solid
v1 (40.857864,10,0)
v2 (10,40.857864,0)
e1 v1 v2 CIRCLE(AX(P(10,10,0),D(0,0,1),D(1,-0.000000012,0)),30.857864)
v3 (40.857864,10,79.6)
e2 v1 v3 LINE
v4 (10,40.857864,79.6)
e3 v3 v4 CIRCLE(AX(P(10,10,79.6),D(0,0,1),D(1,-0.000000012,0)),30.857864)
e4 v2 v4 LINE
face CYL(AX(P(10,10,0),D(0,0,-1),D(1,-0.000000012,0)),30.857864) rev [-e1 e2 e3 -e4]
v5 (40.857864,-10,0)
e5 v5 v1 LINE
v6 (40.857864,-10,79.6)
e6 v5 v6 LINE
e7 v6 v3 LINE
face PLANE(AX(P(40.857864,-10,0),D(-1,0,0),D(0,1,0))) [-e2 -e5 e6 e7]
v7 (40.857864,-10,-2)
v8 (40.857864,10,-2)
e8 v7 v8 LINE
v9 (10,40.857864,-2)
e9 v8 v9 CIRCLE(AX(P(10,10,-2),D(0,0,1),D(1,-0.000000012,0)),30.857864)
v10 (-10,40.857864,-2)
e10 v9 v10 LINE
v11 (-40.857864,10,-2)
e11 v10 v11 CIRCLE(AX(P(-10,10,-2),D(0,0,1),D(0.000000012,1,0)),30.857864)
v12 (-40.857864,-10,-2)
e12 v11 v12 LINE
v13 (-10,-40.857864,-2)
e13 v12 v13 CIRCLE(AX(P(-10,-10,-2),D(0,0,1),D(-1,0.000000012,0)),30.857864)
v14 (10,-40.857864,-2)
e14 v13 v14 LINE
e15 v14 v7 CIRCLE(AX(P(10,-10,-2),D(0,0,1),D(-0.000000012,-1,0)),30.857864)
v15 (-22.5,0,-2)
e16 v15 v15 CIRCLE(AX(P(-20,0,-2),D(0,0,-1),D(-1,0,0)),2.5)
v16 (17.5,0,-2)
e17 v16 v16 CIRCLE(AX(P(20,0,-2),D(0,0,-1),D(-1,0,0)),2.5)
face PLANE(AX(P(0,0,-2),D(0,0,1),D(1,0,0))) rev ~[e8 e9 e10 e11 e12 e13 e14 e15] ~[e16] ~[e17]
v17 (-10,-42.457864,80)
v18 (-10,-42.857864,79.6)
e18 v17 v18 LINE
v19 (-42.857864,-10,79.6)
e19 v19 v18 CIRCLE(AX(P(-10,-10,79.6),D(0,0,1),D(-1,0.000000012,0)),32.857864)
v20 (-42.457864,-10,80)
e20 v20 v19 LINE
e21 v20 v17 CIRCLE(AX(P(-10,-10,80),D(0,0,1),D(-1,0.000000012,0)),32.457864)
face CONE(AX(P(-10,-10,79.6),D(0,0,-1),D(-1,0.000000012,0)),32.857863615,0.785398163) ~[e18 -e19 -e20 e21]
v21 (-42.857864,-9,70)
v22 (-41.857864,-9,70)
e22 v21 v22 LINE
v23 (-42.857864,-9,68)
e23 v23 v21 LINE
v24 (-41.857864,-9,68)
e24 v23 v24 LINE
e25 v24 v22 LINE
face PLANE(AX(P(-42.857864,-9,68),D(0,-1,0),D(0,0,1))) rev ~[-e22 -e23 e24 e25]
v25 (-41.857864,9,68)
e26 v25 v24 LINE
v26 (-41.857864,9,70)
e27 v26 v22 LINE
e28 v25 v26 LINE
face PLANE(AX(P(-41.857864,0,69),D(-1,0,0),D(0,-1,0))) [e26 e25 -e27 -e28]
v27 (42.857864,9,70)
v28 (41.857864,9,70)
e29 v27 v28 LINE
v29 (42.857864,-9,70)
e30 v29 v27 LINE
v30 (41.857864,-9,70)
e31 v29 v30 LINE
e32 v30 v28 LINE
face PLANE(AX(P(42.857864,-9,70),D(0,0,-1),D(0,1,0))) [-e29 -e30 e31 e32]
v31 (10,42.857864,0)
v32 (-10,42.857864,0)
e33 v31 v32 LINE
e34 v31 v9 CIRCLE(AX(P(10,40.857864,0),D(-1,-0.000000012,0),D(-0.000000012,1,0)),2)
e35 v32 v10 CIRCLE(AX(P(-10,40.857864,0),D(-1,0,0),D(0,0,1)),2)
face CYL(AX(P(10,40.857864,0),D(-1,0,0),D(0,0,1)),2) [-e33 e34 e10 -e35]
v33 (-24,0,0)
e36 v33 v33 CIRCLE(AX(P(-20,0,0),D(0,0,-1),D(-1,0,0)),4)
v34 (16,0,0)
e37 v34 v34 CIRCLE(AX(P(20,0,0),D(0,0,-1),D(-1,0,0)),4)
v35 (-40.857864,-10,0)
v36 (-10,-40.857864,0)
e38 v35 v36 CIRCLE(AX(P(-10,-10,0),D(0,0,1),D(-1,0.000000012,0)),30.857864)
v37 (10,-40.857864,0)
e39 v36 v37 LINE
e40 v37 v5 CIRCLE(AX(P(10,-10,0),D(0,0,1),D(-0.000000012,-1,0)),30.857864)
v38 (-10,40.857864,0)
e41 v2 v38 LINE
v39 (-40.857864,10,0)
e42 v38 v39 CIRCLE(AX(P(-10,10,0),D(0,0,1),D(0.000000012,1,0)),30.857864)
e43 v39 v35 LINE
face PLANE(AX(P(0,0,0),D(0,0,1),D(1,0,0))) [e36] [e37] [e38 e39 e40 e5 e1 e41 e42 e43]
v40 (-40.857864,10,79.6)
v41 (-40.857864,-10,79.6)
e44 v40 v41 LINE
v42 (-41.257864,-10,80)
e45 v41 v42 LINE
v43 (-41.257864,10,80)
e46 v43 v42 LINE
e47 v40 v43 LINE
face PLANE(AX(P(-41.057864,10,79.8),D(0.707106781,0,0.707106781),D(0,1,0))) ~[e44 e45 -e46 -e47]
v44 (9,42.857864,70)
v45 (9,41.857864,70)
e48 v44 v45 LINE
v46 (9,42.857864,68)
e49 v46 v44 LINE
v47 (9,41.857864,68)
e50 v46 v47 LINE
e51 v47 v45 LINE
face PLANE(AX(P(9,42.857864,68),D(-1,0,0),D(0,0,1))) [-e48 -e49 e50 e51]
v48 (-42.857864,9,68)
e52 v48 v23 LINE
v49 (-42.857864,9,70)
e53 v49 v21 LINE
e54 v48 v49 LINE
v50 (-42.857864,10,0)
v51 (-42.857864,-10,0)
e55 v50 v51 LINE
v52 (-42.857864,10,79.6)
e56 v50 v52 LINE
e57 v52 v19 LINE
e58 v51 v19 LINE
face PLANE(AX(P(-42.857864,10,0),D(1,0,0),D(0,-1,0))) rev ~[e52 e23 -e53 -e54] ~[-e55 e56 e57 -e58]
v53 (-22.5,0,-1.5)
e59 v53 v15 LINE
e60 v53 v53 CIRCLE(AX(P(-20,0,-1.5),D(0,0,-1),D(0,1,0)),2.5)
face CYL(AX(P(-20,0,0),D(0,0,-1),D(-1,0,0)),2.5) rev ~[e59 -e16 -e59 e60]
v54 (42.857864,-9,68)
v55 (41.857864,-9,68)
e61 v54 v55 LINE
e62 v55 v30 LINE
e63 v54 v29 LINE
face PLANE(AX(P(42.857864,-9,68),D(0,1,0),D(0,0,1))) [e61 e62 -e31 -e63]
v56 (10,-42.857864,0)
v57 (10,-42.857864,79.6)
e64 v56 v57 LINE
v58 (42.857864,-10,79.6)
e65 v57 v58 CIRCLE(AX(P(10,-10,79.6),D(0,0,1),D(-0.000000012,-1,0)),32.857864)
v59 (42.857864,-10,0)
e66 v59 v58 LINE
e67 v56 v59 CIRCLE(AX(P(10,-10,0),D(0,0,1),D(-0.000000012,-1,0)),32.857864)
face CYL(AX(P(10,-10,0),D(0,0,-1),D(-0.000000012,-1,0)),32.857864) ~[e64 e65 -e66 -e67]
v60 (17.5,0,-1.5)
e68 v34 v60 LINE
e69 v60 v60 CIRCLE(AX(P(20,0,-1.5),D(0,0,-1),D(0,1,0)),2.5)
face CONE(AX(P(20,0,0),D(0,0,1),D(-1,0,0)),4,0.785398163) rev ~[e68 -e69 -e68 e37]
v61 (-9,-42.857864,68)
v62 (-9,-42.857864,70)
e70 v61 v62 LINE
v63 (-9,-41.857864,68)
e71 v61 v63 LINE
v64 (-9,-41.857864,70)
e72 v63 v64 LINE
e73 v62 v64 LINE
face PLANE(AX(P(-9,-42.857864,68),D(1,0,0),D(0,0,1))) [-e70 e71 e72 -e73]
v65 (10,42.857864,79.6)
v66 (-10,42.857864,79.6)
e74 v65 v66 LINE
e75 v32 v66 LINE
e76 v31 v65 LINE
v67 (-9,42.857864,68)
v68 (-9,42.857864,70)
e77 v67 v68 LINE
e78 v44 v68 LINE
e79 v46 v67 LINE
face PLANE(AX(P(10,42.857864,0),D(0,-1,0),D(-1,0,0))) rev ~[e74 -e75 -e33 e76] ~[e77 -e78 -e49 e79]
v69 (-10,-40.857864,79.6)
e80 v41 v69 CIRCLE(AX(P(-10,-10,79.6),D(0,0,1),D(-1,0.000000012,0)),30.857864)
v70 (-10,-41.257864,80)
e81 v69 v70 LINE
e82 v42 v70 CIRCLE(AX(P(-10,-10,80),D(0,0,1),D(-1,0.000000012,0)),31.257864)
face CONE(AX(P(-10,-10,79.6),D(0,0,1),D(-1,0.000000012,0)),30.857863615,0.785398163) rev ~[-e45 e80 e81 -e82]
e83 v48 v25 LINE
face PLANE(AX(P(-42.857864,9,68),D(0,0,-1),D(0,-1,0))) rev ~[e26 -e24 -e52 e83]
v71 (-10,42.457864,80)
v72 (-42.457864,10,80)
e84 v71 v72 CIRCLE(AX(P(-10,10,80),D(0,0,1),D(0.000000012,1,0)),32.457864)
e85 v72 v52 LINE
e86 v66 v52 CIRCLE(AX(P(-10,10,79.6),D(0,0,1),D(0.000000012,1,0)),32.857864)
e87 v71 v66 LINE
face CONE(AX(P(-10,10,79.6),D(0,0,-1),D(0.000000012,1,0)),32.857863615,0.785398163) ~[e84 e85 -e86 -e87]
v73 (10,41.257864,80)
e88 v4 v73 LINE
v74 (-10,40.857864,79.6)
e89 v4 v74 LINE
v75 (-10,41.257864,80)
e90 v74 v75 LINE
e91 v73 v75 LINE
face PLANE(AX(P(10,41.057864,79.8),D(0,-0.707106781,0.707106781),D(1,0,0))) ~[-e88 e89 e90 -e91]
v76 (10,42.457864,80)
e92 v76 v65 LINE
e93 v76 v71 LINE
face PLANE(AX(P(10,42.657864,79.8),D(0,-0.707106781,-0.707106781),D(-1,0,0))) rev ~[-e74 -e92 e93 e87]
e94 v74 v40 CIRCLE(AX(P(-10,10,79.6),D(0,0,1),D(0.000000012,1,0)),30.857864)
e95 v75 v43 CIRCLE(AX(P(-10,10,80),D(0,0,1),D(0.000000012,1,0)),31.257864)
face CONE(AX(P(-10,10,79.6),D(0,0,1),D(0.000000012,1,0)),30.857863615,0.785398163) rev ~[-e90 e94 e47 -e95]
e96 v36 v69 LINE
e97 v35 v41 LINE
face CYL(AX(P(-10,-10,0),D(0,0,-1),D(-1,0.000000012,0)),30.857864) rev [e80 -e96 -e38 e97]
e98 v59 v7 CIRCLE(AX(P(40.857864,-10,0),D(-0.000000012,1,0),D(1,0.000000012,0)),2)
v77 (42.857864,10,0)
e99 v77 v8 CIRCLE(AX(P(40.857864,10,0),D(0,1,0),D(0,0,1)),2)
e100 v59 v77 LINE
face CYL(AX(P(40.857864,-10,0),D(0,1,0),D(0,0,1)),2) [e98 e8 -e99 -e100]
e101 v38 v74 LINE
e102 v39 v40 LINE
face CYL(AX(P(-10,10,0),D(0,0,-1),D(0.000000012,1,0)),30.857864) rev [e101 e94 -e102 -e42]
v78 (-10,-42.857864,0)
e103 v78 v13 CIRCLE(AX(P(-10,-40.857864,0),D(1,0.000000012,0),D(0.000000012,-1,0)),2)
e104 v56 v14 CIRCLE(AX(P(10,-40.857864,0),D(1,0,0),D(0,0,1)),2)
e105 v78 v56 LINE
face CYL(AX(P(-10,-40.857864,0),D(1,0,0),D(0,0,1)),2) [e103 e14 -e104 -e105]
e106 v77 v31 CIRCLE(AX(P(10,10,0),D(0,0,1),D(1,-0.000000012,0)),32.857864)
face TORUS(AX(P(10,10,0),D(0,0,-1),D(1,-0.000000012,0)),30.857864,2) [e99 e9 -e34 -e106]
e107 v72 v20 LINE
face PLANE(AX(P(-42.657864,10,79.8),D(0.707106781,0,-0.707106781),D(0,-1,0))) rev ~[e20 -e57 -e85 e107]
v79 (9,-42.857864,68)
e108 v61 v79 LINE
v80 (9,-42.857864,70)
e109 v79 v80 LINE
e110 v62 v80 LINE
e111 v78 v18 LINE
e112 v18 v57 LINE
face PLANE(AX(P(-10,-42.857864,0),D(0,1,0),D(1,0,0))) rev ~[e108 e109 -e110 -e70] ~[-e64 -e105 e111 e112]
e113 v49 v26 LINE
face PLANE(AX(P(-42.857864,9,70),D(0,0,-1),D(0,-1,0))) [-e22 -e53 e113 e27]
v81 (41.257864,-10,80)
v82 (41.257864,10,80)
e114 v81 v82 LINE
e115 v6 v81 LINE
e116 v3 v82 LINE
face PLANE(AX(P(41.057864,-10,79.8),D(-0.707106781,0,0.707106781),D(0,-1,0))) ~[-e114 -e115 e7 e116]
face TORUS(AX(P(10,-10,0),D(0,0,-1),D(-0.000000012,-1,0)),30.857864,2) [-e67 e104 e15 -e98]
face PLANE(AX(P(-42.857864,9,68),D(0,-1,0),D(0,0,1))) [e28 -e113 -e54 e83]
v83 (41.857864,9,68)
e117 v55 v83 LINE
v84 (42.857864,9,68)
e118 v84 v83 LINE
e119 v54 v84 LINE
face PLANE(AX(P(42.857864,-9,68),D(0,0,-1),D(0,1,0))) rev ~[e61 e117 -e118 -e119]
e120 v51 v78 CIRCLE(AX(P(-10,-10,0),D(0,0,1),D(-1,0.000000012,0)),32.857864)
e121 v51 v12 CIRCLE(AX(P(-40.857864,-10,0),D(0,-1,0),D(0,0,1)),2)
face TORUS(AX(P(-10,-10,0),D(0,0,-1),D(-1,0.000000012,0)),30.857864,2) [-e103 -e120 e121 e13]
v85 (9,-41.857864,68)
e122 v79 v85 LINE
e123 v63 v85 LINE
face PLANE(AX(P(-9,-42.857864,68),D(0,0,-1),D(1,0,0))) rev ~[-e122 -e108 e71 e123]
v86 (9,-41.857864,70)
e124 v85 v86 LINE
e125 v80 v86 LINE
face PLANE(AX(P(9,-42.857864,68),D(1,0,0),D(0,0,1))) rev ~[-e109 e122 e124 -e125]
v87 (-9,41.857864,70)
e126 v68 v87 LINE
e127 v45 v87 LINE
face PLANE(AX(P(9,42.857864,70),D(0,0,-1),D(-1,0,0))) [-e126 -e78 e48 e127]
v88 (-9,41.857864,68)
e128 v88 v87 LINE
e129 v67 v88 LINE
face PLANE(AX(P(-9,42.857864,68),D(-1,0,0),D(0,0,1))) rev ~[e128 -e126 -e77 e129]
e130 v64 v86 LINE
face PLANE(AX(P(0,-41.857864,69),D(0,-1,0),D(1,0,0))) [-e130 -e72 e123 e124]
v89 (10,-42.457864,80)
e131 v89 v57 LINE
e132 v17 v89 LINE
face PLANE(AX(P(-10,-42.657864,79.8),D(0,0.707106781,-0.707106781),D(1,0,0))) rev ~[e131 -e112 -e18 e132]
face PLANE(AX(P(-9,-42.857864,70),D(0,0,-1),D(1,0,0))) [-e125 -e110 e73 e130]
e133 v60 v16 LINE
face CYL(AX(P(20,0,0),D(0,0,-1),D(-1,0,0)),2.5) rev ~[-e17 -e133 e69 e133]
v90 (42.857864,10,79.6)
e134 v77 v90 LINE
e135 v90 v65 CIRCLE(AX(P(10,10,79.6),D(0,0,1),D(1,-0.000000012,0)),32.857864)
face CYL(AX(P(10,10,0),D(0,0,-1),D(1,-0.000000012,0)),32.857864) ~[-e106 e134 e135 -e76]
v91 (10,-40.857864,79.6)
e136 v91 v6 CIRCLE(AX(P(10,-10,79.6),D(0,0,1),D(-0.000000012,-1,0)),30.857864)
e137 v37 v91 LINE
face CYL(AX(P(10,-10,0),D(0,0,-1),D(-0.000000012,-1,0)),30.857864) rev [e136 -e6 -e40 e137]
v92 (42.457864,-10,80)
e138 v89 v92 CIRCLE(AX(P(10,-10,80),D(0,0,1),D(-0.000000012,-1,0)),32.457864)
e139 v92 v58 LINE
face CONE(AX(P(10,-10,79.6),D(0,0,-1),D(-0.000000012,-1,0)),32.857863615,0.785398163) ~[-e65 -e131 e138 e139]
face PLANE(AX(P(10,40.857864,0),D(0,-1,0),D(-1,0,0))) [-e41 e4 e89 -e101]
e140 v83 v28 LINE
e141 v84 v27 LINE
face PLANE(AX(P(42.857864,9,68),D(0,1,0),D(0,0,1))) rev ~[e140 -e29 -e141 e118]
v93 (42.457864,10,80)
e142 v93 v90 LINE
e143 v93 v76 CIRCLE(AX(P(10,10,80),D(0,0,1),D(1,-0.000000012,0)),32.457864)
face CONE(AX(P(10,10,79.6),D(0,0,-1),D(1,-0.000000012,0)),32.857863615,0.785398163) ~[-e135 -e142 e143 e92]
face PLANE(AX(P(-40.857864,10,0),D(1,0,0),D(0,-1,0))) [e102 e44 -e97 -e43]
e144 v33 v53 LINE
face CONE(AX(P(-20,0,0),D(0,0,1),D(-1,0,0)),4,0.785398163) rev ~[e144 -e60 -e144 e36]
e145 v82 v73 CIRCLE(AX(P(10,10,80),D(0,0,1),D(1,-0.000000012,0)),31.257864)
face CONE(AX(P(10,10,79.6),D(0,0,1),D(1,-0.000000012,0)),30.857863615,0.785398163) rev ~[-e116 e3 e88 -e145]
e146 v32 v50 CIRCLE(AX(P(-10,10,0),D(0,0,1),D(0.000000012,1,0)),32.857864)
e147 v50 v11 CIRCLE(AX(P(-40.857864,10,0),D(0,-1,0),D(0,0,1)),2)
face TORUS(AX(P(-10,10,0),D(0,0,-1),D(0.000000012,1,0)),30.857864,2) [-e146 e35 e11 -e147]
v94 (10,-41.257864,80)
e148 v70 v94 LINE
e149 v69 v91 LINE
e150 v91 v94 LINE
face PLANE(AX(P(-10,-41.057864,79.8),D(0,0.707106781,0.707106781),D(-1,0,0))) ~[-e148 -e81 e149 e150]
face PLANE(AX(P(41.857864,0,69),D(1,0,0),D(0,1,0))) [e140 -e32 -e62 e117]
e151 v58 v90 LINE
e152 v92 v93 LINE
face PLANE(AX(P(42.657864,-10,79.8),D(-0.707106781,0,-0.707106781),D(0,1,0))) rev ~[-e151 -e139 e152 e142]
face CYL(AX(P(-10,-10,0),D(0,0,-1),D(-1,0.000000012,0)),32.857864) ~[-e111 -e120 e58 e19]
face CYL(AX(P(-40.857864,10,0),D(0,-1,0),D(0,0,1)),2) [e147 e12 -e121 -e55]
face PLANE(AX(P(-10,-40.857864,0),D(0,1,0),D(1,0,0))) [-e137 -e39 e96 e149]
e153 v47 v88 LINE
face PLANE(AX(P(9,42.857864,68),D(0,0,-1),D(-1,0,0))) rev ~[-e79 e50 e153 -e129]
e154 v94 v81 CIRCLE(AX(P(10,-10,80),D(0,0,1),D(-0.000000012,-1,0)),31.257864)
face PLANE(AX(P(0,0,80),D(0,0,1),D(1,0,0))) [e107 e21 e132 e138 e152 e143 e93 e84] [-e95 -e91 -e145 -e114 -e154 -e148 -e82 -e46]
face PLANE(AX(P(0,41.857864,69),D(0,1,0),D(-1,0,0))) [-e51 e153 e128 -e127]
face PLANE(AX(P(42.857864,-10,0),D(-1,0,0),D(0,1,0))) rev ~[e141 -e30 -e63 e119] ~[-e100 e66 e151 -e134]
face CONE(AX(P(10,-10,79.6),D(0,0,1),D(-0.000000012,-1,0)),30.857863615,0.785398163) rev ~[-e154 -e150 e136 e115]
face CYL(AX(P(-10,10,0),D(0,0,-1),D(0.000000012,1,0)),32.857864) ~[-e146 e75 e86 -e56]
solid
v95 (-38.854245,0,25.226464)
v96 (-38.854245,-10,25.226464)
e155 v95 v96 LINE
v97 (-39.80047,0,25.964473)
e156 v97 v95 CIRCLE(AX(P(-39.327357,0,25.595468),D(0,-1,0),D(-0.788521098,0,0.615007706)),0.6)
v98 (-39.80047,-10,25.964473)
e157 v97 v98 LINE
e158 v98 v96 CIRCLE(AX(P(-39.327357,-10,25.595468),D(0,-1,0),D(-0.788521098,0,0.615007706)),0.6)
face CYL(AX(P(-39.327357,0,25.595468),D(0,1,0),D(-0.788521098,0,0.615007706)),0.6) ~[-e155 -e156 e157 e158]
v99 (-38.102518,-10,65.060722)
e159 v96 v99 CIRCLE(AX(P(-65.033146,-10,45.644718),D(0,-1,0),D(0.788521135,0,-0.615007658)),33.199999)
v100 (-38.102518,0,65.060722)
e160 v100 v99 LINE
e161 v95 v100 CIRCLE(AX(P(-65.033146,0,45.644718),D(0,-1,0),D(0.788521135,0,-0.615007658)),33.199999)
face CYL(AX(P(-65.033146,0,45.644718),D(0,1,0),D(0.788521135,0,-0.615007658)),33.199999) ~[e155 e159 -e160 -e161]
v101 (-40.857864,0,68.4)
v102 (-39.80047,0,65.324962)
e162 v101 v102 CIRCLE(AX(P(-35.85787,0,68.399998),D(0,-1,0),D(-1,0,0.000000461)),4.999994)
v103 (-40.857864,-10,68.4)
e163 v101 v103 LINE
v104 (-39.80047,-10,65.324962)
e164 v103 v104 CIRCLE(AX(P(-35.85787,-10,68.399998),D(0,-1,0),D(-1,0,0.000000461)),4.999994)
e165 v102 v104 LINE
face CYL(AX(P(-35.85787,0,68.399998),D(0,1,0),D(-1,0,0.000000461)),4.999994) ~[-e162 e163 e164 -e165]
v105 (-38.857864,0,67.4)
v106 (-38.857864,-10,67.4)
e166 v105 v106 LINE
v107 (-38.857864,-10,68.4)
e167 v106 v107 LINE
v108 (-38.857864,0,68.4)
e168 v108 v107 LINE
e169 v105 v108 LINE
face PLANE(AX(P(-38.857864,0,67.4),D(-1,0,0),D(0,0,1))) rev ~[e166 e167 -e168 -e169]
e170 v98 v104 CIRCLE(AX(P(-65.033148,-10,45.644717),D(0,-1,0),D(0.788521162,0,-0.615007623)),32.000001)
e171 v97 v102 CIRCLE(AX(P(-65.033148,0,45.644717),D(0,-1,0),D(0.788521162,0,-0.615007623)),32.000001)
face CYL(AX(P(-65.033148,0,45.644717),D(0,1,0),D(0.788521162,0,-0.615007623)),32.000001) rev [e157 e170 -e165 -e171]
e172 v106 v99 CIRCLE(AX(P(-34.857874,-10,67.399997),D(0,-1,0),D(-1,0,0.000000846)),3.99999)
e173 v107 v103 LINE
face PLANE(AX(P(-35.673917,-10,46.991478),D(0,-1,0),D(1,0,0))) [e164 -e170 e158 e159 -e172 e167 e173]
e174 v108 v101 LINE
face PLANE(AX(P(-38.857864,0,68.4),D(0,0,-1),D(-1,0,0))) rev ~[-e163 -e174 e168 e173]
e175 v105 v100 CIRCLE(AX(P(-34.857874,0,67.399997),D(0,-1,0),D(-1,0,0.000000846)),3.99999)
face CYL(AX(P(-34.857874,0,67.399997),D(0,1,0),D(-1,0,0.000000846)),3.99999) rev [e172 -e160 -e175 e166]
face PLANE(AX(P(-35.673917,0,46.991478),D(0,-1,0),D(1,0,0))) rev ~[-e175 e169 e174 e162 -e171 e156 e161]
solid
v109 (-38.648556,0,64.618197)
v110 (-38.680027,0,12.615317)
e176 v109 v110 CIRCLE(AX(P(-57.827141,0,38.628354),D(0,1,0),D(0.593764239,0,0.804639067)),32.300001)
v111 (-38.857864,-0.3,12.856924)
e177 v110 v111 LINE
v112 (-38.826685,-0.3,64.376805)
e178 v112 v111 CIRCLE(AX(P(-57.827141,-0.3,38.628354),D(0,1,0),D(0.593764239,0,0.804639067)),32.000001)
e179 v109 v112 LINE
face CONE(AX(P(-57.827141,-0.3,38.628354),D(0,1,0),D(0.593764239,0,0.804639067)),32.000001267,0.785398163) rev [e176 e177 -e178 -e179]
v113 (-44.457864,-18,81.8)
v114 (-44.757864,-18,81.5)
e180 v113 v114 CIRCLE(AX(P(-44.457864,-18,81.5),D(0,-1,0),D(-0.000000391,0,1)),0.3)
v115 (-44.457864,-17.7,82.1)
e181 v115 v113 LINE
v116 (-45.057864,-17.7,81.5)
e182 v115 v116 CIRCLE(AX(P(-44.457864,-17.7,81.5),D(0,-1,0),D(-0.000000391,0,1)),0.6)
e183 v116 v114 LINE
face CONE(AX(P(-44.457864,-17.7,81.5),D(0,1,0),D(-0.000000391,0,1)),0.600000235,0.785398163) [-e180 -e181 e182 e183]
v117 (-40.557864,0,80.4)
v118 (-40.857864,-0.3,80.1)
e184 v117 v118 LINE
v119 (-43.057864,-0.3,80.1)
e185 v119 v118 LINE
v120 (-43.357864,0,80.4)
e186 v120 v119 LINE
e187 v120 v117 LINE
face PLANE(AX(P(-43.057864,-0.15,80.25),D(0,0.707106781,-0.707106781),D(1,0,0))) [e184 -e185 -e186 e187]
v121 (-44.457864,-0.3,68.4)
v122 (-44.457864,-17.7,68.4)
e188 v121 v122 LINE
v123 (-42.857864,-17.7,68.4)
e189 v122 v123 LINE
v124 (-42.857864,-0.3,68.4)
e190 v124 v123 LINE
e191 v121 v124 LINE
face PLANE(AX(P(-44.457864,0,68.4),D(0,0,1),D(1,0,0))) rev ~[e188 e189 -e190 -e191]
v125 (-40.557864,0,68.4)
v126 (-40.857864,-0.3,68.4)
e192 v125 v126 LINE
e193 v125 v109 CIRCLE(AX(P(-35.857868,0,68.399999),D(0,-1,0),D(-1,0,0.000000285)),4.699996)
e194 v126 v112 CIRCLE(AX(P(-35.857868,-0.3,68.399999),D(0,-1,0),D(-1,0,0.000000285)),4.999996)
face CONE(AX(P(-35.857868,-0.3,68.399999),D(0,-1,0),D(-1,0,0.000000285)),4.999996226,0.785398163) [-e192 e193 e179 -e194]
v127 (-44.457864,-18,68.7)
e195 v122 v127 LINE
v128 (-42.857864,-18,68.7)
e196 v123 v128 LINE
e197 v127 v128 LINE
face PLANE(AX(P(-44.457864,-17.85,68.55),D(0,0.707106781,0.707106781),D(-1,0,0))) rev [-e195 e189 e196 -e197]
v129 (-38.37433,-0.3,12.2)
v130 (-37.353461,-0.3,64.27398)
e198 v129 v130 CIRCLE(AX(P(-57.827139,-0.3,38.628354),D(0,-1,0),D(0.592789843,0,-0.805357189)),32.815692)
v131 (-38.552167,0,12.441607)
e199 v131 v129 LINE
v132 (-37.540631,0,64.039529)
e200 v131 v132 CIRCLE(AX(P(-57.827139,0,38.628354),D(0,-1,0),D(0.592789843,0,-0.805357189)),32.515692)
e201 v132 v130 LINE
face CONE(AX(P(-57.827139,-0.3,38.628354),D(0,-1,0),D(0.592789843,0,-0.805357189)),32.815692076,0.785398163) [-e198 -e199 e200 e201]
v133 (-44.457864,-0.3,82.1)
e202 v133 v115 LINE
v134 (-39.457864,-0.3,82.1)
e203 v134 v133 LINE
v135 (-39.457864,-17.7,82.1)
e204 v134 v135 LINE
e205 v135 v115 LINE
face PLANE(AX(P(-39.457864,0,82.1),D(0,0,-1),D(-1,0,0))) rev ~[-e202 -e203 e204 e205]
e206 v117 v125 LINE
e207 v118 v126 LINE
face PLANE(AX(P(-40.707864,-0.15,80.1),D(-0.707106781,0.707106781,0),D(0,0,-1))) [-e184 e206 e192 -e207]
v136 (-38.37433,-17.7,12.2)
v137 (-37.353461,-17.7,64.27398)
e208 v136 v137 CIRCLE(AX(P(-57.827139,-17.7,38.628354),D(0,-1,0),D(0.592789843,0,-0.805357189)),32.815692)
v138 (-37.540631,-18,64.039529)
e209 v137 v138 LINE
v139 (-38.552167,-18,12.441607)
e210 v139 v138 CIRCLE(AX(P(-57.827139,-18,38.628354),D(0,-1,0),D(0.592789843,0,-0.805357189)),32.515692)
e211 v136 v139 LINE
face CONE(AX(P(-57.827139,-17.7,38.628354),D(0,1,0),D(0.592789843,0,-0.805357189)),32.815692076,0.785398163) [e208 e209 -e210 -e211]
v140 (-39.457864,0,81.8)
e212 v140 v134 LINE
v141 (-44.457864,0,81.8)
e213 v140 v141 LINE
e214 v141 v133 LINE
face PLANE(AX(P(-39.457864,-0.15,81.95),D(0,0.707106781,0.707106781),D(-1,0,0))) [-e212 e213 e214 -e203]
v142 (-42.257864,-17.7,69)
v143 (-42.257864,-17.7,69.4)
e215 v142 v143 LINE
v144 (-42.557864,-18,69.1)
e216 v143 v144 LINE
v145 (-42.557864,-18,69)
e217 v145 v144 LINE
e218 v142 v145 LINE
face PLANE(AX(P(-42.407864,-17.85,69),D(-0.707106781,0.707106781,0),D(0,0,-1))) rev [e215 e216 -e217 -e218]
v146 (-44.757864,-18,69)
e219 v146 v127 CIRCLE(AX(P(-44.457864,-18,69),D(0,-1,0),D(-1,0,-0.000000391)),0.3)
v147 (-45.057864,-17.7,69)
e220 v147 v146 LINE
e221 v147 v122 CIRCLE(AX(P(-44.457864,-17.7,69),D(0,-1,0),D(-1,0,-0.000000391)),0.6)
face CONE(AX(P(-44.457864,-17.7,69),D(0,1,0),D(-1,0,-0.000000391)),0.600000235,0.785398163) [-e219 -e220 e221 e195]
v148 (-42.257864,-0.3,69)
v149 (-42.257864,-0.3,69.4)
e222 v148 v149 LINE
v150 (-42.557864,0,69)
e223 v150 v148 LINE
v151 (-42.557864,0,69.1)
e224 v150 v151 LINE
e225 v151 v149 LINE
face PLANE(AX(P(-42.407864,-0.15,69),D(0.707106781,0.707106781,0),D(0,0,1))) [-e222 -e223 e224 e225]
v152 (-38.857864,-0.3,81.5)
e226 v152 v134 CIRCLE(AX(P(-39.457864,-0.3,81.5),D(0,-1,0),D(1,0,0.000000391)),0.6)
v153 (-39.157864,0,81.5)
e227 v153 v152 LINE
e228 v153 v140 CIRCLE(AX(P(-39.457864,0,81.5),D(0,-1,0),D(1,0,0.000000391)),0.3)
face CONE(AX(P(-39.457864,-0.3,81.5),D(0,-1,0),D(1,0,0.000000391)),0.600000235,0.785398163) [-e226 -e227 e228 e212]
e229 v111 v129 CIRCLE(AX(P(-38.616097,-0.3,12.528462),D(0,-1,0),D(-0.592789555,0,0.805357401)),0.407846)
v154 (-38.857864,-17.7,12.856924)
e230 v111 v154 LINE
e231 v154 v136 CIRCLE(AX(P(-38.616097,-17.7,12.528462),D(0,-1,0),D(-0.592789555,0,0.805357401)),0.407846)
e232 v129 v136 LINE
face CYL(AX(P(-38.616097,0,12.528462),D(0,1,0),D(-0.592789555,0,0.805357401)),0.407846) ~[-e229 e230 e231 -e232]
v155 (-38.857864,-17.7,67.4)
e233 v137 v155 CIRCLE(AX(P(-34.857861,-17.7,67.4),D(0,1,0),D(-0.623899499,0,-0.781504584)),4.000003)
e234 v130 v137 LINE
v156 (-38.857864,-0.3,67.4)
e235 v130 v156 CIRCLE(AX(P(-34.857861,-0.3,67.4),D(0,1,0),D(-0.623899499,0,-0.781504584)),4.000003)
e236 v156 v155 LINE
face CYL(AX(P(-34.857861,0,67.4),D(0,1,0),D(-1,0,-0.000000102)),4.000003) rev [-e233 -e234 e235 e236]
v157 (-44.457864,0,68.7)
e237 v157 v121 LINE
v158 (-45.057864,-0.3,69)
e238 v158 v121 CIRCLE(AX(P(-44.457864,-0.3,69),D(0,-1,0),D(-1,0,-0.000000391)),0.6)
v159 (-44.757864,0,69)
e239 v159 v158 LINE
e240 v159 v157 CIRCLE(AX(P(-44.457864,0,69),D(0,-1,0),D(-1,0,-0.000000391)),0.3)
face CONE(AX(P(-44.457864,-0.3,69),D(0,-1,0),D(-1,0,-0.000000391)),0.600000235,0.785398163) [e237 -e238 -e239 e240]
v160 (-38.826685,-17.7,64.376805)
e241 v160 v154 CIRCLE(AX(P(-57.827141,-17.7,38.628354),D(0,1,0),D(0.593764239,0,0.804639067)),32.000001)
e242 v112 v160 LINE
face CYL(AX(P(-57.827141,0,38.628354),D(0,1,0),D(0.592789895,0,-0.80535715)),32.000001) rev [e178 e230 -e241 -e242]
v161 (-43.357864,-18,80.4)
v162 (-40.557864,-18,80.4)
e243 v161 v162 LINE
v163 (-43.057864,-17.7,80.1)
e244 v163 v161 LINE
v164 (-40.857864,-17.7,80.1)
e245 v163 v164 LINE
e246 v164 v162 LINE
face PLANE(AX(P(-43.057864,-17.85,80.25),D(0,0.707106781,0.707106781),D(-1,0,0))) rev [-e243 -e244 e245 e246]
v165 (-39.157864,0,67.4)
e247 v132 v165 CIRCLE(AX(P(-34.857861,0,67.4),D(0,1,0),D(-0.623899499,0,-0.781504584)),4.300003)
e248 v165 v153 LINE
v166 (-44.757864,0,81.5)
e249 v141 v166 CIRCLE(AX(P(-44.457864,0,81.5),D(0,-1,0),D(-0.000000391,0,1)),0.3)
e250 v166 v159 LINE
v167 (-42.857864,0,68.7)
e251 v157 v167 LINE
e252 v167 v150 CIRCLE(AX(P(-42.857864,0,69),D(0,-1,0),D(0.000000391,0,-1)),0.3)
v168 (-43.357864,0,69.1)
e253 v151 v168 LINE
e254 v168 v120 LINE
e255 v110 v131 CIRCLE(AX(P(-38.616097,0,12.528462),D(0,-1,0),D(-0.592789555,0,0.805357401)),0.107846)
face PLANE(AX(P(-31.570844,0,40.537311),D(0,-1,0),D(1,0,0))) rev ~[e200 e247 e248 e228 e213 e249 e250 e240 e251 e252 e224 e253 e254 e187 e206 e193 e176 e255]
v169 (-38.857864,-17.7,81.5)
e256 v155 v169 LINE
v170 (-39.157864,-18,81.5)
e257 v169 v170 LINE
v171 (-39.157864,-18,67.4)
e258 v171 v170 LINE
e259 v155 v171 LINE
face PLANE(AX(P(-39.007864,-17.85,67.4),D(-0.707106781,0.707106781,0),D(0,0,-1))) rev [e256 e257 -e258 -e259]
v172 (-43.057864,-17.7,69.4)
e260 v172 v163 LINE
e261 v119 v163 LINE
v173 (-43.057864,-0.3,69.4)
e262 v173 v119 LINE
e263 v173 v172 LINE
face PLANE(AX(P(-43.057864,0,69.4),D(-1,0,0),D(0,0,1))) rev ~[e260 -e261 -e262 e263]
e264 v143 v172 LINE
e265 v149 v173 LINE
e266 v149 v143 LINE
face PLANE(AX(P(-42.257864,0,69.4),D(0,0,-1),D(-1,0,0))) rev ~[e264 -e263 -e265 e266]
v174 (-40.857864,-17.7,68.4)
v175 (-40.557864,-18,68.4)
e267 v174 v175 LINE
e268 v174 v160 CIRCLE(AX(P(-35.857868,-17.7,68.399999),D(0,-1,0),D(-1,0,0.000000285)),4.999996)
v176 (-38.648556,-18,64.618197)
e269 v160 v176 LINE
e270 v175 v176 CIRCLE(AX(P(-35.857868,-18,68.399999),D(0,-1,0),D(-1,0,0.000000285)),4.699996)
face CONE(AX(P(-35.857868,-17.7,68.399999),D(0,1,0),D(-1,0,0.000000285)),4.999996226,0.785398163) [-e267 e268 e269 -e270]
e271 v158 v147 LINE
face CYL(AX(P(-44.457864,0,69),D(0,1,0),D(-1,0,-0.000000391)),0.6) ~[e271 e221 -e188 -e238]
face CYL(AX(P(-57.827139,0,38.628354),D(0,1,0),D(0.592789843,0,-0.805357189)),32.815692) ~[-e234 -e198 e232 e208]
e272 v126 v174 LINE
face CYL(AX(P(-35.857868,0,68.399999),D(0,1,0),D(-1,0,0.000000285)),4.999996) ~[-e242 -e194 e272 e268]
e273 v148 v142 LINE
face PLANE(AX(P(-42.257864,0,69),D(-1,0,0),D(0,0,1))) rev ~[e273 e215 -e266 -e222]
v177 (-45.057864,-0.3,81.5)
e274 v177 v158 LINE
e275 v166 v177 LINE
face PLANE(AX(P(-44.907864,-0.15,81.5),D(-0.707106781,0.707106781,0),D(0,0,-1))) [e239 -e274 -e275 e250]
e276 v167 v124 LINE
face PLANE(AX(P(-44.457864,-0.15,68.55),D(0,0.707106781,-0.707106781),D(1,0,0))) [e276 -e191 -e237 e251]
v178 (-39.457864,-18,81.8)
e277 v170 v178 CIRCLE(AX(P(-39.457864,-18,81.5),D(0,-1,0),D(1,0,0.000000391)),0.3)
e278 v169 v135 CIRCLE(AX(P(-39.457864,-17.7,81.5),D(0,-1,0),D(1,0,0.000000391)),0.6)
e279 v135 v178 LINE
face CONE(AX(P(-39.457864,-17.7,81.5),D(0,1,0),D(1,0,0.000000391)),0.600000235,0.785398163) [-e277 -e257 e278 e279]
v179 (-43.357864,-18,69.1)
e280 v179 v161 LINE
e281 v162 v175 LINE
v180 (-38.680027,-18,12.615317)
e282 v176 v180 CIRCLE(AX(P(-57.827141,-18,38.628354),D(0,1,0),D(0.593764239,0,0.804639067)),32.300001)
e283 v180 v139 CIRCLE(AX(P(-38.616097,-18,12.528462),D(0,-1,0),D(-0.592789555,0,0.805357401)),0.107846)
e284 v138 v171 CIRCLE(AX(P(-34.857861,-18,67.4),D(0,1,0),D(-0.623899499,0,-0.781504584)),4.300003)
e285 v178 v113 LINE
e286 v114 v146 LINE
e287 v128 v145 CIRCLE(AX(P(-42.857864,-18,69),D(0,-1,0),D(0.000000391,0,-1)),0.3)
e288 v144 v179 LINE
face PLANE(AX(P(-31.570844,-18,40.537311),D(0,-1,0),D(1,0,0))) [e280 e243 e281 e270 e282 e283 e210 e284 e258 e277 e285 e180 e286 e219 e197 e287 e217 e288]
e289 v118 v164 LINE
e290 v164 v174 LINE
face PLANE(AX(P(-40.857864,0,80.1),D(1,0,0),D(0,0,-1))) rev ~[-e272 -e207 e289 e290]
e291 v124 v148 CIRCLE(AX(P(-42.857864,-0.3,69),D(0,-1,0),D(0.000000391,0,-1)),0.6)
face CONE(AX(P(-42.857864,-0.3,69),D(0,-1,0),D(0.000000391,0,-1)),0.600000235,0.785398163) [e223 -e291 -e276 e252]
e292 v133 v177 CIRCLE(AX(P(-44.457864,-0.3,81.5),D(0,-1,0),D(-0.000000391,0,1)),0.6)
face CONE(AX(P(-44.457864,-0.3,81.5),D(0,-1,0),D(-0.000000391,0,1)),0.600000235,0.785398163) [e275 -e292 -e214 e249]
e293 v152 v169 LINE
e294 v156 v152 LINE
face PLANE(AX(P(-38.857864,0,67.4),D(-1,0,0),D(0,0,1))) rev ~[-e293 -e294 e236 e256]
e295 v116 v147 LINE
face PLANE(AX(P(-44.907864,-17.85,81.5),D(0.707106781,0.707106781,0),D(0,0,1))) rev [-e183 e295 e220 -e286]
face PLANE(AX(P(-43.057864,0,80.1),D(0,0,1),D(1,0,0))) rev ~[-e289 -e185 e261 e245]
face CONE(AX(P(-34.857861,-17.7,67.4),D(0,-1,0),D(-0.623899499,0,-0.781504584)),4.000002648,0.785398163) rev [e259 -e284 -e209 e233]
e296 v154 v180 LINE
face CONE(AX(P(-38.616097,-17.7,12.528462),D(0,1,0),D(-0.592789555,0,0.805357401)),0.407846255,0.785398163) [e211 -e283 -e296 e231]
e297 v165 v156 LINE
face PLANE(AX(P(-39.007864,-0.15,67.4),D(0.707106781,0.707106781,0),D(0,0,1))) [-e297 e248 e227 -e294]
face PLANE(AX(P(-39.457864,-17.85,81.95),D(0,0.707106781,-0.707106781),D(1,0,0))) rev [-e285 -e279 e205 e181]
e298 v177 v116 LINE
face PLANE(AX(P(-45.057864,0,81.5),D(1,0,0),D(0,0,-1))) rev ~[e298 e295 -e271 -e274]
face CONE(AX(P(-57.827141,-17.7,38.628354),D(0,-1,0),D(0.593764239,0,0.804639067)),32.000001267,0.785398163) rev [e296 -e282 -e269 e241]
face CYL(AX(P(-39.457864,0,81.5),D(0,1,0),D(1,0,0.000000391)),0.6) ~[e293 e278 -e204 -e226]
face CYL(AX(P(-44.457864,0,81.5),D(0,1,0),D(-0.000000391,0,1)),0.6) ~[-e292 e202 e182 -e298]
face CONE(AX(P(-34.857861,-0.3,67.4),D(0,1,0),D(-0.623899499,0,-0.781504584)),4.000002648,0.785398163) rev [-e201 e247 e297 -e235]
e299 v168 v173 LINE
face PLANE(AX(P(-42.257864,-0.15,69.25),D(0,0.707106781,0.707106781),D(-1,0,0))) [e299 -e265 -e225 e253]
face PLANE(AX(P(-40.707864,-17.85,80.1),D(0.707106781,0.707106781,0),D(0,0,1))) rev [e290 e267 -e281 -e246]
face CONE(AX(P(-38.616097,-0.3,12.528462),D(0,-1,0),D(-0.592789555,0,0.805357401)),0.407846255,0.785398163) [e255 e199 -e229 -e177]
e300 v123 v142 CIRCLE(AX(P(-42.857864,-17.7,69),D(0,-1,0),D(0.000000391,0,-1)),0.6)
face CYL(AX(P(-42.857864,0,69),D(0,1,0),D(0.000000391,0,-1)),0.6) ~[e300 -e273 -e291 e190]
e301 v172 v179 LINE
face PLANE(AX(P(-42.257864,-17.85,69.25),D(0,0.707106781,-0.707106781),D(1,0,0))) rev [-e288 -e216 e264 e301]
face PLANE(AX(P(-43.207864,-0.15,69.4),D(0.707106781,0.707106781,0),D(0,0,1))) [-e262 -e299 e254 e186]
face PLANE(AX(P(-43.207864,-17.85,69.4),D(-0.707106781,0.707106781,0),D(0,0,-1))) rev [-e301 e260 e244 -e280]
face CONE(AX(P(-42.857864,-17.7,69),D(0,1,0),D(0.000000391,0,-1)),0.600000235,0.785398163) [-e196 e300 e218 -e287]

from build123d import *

# Parameters (mm, degrees)
PAD_DEPTH          = 80
THICKNESS_T        = 2
SKETCH001_W        = 18
SKETCH001_H        = 2
POCKET_DEPTH       = 1
POLARPATTERN_COUNT = 4
HOLE_D             = 5
HOLE_DEPTH         = 25
HOLE_CSINK_D       = 8
HOLE_CSINK_ANGLE   = 90
CHAMFER001_SIZE    = 0.4
PAD001_DEPTH       = 18
PAD003_DEPTH       = 18
CHAMFER_SIZE       = 0.3
PAD002_DEPTH       = 10


with BuildPart() as body:
    # Sketch → Pad (new body)
    with BuildSketch(Plane.XY):
        with BuildLine():
            Line((-40.857864, 10), (-40.857864, -10))
            ThreePointArc((-40.857864, -10), (-31.819805, -31.819805), (-10, -40.857864))
            Line((-10, -40.857864), (10, -40.857864))
            ThreePointArc((10, -40.857864), (31.819805, -31.819805), (40.857864, -10))
            Line((40.857864, -10), (40.857864, 10))
            ThreePointArc((40.857864, 10), (31.819805, 31.819805), (10, 40.857864))
            Line((10, 40.857864), (-10, 40.857864))
            ThreePointArc((-10, 40.857864), (-31.819805, 31.819805), (-40.857864, 10))
        make_face()
    extrude(amount=PAD_DEPTH)

    # Thickness
    thickness_openings = [body.faces().sort_by_distance(p)[0] for p in [
        (0, 0, 80),
    ]]
    offset(amount=THICKNESS_T, openings=thickness_openings)

    # Sketch001 (on Face13 of Thickness) → Pocket (cut)
    with BuildSketch(Plane.XZ.offset(42.857864)):
        with Locations((0, 69)):
            Rectangle(SKETCH001_W, SKETCH001_H)
    pocket = extrude(amount=-POCKET_DEPTH, mode=Mode.SUBTRACT)

    # PolarPattern: Pocket ×4 about axis
    polarpattern_axis = Axis((0, 0, 0), (0, 0, 1))
    for i in range(1, POLARPATTERN_COUNT):
        add(pocket.rotate(polarpattern_axis, i * 360 / POLARPATTERN_COUNT), mode=Mode.SUBTRACT)

    # Hole
    with Locations(Plane.XY):
        with Locations((-20, 0), (20, 0)):
            CounterSinkHole(HOLE_D / 2, HOLE_CSINK_D / 2, depth=HOLE_DEPTH, counter_sink_angle=HOLE_CSINK_ANGLE)

    # Chamfer001
    chamfer001_edges = [body.edges().sort_by_distance(p)[0] for p in [
        (-40.857864, 0, 80),
        (-31.819805, 31.819805, 80),
        (0, 40.857864, 80),
        (31.819805, 31.819805, 80),
        (40.857864, 0, 80),
        (31.819805, -31.819805, 80),
        (0, -40.857864, 80),
        (-31.819805, -31.819805, 80),
        (0, 42.857864, 80),
        (-33.234019, 33.234019, 80),
        (-42.857864, 0, 80),
        (-33.234019, -33.234019, 80),
        (0, -42.857864, 80),
        (33.234019, -33.234019, 80),
        (42.857864, 0, 80),
        (33.234019, 33.234019, 80),
    ]]
    chamfer(chamfer001_edges, length=CHAMFER001_SIZE)


with BuildPart() as wing:
    # Sketch002 → Pad001 (new body)
    with BuildSketch(Plane.XZ):
        with BuildLine():
            Line((-45.057864, 81.5), (-45.057864, 69))
            ThreePointArc((-45.057864, 69), (-44.882128, 68.575736), (-44.457864, 68.4))
            Line((-44.457864, 68.4), (-42.857864, 68.4))
            ThreePointArc((-42.857864, 68.4), (-42.4336, 68.575736), (-42.257864, 69))
            Line((-42.257864, 69), (-42.257864, 69.4))
            Line((-42.257864, 69.4), (-43.057864, 69.4))
            Line((-43.057864, 69.4), (-43.057864, 80.1))
            Line((-43.057864, 80.1), (-40.857864, 80.1))
            Line((-40.857864, 80.1), (-40.857864, 68.4))
            Line((-40.857864, 68.4), (-38.857864, 68.4))
            Line((-38.857864, 68.4), (-38.857864, 81.5))
            ThreePointArc((-38.857864, 81.5), (-39.0336, 81.924264), (-39.457864, 82.1))
            Line((-39.457864, 82.1), (-44.457864, 82.1))
            ThreePointArc((-44.457864, 82.1), (-44.882128, 81.924264), (-45.057864, 81.5))
        make_face()
    extrude(amount=PAD001_DEPTH)

    # Sketch003 → Pad003 (join)
    with BuildSketch(Plane(origin=(0, 0, 0.2), x_dir=(1, 0, 0), z_dir=(0, -1, 0))):
        with BuildLine():
            Line((-38.857864, 67.2), (-38.857864, 68.2))
            Line((-38.857864, 68.2), (-40.857864, 68.2))
            ThreePointArc((-40.857864, 68.2), (-40.321277, 65.94657), (-38.826685, 64.176805))
            ThreePointArc((-38.857864, 12.656924), (-25.827146, 38.408988), (-38.826685, 64.176805))
            ThreePointArc((-38.857864, 12.656924), (-38.944559, 12.086695), (-38.37433, 12))
            ThreePointArc((-38.37433, 12), (-25.017751, 37.785152), (-37.353461, 64.07398))
            ThreePointArc((-38.857864, 67.2), (-38.462194, 65.465409), (-37.353461, 64.07398))
        make_face()
    extrude(amount=PAD003_DEPTH)

    # Chamfer
    chamfer_edges = [wing.edges().sort_by_distance(p)[0] for p in [
        (-45.057864, -18, 75.25),
        (-44.882128, -18, 68.575736),
        (-43.657864, -18, 68.4),
        (-42.4336, -18, 68.575736),
        (-42.257864, -18, 69.2),
        (-42.657864, -18, 69.4),
        (-43.057864, -18, 74.75),
        (-41.957864, -18, 80.1),
        (-40.857864, -18, 74.25),
        (-40.321277, -18, 66.14657),
        (-25.827146, -18, 38.608988),
        (-38.944559, -18, 12.286695),
        (-25.017751, -18, 37.985152),
        (-38.462194, -18, 65.665409),
        (-38.857864, -18, 74.45),
        (-39.0336, -18, 81.924264),
        (-41.957864, -18, 82.1),
        (-44.882128, -18, 81.924264),
        (-45.057864, 0, 75.25),
        (-44.882128, 0, 81.924264),
        (-41.957864, 0, 82.1),
        (-39.0336, 0, 81.924264),
        (-38.857864, 0, 74.45),
        (-38.462194, 0, 65.665409),
        (-25.017751, 0, 37.985152),
        (-38.944559, 0, 12.286695),
        (-25.827146, 0, 38.608988),
        (-40.321277, 0, 66.14657),
        (-40.857864, 0, 74.25),
        (-41.957864, 0, 80.1),
        (-43.057864, 0, 74.75),
        (-42.657864, 0, 69.4),
        (-42.257864, 0, 69.2),
        (-42.4336, 0, 68.575736),
        (-43.657864, 0, 68.4),
        (-44.882128, 0, 68.575736),
    ]]
    chamfer(chamfer_edges, length=CHAMFER_SIZE)


with BuildPart() as body002:
    # Sketch004 → Pad002 (new body)
    with BuildSketch(Plane.XZ):
        with BuildLine():
            Line((-38.857864, 67.4), (-38.857864, 68.4))
            Line((-38.857864, 68.4), (-40.857864, 68.4))
            ThreePointArc((-40.857864, 68.4), (-40.586132, 66.77412), (-39.80047, 65.324962))
            ThreePointArc((-39.80047, 25.964473), (-33.033147, 45.644717), (-39.80047, 65.324962))
            ThreePointArc((-39.80047, 25.964473), (-39.696362, 25.122356), (-38.854245, 25.226464))
            ThreePointArc((-38.854245, 25.226464), (-31.839057, 45.0183), (-38.102518, 65.060722))
            ThreePointArc((-38.857864, 67.4), (-38.664347, 66.170898), (-38.102518, 65.060722))
        make_face()
    extrude(amount=PAD002_DEPTH)


solid = Compound([body.part, wing.part, body002.part])
